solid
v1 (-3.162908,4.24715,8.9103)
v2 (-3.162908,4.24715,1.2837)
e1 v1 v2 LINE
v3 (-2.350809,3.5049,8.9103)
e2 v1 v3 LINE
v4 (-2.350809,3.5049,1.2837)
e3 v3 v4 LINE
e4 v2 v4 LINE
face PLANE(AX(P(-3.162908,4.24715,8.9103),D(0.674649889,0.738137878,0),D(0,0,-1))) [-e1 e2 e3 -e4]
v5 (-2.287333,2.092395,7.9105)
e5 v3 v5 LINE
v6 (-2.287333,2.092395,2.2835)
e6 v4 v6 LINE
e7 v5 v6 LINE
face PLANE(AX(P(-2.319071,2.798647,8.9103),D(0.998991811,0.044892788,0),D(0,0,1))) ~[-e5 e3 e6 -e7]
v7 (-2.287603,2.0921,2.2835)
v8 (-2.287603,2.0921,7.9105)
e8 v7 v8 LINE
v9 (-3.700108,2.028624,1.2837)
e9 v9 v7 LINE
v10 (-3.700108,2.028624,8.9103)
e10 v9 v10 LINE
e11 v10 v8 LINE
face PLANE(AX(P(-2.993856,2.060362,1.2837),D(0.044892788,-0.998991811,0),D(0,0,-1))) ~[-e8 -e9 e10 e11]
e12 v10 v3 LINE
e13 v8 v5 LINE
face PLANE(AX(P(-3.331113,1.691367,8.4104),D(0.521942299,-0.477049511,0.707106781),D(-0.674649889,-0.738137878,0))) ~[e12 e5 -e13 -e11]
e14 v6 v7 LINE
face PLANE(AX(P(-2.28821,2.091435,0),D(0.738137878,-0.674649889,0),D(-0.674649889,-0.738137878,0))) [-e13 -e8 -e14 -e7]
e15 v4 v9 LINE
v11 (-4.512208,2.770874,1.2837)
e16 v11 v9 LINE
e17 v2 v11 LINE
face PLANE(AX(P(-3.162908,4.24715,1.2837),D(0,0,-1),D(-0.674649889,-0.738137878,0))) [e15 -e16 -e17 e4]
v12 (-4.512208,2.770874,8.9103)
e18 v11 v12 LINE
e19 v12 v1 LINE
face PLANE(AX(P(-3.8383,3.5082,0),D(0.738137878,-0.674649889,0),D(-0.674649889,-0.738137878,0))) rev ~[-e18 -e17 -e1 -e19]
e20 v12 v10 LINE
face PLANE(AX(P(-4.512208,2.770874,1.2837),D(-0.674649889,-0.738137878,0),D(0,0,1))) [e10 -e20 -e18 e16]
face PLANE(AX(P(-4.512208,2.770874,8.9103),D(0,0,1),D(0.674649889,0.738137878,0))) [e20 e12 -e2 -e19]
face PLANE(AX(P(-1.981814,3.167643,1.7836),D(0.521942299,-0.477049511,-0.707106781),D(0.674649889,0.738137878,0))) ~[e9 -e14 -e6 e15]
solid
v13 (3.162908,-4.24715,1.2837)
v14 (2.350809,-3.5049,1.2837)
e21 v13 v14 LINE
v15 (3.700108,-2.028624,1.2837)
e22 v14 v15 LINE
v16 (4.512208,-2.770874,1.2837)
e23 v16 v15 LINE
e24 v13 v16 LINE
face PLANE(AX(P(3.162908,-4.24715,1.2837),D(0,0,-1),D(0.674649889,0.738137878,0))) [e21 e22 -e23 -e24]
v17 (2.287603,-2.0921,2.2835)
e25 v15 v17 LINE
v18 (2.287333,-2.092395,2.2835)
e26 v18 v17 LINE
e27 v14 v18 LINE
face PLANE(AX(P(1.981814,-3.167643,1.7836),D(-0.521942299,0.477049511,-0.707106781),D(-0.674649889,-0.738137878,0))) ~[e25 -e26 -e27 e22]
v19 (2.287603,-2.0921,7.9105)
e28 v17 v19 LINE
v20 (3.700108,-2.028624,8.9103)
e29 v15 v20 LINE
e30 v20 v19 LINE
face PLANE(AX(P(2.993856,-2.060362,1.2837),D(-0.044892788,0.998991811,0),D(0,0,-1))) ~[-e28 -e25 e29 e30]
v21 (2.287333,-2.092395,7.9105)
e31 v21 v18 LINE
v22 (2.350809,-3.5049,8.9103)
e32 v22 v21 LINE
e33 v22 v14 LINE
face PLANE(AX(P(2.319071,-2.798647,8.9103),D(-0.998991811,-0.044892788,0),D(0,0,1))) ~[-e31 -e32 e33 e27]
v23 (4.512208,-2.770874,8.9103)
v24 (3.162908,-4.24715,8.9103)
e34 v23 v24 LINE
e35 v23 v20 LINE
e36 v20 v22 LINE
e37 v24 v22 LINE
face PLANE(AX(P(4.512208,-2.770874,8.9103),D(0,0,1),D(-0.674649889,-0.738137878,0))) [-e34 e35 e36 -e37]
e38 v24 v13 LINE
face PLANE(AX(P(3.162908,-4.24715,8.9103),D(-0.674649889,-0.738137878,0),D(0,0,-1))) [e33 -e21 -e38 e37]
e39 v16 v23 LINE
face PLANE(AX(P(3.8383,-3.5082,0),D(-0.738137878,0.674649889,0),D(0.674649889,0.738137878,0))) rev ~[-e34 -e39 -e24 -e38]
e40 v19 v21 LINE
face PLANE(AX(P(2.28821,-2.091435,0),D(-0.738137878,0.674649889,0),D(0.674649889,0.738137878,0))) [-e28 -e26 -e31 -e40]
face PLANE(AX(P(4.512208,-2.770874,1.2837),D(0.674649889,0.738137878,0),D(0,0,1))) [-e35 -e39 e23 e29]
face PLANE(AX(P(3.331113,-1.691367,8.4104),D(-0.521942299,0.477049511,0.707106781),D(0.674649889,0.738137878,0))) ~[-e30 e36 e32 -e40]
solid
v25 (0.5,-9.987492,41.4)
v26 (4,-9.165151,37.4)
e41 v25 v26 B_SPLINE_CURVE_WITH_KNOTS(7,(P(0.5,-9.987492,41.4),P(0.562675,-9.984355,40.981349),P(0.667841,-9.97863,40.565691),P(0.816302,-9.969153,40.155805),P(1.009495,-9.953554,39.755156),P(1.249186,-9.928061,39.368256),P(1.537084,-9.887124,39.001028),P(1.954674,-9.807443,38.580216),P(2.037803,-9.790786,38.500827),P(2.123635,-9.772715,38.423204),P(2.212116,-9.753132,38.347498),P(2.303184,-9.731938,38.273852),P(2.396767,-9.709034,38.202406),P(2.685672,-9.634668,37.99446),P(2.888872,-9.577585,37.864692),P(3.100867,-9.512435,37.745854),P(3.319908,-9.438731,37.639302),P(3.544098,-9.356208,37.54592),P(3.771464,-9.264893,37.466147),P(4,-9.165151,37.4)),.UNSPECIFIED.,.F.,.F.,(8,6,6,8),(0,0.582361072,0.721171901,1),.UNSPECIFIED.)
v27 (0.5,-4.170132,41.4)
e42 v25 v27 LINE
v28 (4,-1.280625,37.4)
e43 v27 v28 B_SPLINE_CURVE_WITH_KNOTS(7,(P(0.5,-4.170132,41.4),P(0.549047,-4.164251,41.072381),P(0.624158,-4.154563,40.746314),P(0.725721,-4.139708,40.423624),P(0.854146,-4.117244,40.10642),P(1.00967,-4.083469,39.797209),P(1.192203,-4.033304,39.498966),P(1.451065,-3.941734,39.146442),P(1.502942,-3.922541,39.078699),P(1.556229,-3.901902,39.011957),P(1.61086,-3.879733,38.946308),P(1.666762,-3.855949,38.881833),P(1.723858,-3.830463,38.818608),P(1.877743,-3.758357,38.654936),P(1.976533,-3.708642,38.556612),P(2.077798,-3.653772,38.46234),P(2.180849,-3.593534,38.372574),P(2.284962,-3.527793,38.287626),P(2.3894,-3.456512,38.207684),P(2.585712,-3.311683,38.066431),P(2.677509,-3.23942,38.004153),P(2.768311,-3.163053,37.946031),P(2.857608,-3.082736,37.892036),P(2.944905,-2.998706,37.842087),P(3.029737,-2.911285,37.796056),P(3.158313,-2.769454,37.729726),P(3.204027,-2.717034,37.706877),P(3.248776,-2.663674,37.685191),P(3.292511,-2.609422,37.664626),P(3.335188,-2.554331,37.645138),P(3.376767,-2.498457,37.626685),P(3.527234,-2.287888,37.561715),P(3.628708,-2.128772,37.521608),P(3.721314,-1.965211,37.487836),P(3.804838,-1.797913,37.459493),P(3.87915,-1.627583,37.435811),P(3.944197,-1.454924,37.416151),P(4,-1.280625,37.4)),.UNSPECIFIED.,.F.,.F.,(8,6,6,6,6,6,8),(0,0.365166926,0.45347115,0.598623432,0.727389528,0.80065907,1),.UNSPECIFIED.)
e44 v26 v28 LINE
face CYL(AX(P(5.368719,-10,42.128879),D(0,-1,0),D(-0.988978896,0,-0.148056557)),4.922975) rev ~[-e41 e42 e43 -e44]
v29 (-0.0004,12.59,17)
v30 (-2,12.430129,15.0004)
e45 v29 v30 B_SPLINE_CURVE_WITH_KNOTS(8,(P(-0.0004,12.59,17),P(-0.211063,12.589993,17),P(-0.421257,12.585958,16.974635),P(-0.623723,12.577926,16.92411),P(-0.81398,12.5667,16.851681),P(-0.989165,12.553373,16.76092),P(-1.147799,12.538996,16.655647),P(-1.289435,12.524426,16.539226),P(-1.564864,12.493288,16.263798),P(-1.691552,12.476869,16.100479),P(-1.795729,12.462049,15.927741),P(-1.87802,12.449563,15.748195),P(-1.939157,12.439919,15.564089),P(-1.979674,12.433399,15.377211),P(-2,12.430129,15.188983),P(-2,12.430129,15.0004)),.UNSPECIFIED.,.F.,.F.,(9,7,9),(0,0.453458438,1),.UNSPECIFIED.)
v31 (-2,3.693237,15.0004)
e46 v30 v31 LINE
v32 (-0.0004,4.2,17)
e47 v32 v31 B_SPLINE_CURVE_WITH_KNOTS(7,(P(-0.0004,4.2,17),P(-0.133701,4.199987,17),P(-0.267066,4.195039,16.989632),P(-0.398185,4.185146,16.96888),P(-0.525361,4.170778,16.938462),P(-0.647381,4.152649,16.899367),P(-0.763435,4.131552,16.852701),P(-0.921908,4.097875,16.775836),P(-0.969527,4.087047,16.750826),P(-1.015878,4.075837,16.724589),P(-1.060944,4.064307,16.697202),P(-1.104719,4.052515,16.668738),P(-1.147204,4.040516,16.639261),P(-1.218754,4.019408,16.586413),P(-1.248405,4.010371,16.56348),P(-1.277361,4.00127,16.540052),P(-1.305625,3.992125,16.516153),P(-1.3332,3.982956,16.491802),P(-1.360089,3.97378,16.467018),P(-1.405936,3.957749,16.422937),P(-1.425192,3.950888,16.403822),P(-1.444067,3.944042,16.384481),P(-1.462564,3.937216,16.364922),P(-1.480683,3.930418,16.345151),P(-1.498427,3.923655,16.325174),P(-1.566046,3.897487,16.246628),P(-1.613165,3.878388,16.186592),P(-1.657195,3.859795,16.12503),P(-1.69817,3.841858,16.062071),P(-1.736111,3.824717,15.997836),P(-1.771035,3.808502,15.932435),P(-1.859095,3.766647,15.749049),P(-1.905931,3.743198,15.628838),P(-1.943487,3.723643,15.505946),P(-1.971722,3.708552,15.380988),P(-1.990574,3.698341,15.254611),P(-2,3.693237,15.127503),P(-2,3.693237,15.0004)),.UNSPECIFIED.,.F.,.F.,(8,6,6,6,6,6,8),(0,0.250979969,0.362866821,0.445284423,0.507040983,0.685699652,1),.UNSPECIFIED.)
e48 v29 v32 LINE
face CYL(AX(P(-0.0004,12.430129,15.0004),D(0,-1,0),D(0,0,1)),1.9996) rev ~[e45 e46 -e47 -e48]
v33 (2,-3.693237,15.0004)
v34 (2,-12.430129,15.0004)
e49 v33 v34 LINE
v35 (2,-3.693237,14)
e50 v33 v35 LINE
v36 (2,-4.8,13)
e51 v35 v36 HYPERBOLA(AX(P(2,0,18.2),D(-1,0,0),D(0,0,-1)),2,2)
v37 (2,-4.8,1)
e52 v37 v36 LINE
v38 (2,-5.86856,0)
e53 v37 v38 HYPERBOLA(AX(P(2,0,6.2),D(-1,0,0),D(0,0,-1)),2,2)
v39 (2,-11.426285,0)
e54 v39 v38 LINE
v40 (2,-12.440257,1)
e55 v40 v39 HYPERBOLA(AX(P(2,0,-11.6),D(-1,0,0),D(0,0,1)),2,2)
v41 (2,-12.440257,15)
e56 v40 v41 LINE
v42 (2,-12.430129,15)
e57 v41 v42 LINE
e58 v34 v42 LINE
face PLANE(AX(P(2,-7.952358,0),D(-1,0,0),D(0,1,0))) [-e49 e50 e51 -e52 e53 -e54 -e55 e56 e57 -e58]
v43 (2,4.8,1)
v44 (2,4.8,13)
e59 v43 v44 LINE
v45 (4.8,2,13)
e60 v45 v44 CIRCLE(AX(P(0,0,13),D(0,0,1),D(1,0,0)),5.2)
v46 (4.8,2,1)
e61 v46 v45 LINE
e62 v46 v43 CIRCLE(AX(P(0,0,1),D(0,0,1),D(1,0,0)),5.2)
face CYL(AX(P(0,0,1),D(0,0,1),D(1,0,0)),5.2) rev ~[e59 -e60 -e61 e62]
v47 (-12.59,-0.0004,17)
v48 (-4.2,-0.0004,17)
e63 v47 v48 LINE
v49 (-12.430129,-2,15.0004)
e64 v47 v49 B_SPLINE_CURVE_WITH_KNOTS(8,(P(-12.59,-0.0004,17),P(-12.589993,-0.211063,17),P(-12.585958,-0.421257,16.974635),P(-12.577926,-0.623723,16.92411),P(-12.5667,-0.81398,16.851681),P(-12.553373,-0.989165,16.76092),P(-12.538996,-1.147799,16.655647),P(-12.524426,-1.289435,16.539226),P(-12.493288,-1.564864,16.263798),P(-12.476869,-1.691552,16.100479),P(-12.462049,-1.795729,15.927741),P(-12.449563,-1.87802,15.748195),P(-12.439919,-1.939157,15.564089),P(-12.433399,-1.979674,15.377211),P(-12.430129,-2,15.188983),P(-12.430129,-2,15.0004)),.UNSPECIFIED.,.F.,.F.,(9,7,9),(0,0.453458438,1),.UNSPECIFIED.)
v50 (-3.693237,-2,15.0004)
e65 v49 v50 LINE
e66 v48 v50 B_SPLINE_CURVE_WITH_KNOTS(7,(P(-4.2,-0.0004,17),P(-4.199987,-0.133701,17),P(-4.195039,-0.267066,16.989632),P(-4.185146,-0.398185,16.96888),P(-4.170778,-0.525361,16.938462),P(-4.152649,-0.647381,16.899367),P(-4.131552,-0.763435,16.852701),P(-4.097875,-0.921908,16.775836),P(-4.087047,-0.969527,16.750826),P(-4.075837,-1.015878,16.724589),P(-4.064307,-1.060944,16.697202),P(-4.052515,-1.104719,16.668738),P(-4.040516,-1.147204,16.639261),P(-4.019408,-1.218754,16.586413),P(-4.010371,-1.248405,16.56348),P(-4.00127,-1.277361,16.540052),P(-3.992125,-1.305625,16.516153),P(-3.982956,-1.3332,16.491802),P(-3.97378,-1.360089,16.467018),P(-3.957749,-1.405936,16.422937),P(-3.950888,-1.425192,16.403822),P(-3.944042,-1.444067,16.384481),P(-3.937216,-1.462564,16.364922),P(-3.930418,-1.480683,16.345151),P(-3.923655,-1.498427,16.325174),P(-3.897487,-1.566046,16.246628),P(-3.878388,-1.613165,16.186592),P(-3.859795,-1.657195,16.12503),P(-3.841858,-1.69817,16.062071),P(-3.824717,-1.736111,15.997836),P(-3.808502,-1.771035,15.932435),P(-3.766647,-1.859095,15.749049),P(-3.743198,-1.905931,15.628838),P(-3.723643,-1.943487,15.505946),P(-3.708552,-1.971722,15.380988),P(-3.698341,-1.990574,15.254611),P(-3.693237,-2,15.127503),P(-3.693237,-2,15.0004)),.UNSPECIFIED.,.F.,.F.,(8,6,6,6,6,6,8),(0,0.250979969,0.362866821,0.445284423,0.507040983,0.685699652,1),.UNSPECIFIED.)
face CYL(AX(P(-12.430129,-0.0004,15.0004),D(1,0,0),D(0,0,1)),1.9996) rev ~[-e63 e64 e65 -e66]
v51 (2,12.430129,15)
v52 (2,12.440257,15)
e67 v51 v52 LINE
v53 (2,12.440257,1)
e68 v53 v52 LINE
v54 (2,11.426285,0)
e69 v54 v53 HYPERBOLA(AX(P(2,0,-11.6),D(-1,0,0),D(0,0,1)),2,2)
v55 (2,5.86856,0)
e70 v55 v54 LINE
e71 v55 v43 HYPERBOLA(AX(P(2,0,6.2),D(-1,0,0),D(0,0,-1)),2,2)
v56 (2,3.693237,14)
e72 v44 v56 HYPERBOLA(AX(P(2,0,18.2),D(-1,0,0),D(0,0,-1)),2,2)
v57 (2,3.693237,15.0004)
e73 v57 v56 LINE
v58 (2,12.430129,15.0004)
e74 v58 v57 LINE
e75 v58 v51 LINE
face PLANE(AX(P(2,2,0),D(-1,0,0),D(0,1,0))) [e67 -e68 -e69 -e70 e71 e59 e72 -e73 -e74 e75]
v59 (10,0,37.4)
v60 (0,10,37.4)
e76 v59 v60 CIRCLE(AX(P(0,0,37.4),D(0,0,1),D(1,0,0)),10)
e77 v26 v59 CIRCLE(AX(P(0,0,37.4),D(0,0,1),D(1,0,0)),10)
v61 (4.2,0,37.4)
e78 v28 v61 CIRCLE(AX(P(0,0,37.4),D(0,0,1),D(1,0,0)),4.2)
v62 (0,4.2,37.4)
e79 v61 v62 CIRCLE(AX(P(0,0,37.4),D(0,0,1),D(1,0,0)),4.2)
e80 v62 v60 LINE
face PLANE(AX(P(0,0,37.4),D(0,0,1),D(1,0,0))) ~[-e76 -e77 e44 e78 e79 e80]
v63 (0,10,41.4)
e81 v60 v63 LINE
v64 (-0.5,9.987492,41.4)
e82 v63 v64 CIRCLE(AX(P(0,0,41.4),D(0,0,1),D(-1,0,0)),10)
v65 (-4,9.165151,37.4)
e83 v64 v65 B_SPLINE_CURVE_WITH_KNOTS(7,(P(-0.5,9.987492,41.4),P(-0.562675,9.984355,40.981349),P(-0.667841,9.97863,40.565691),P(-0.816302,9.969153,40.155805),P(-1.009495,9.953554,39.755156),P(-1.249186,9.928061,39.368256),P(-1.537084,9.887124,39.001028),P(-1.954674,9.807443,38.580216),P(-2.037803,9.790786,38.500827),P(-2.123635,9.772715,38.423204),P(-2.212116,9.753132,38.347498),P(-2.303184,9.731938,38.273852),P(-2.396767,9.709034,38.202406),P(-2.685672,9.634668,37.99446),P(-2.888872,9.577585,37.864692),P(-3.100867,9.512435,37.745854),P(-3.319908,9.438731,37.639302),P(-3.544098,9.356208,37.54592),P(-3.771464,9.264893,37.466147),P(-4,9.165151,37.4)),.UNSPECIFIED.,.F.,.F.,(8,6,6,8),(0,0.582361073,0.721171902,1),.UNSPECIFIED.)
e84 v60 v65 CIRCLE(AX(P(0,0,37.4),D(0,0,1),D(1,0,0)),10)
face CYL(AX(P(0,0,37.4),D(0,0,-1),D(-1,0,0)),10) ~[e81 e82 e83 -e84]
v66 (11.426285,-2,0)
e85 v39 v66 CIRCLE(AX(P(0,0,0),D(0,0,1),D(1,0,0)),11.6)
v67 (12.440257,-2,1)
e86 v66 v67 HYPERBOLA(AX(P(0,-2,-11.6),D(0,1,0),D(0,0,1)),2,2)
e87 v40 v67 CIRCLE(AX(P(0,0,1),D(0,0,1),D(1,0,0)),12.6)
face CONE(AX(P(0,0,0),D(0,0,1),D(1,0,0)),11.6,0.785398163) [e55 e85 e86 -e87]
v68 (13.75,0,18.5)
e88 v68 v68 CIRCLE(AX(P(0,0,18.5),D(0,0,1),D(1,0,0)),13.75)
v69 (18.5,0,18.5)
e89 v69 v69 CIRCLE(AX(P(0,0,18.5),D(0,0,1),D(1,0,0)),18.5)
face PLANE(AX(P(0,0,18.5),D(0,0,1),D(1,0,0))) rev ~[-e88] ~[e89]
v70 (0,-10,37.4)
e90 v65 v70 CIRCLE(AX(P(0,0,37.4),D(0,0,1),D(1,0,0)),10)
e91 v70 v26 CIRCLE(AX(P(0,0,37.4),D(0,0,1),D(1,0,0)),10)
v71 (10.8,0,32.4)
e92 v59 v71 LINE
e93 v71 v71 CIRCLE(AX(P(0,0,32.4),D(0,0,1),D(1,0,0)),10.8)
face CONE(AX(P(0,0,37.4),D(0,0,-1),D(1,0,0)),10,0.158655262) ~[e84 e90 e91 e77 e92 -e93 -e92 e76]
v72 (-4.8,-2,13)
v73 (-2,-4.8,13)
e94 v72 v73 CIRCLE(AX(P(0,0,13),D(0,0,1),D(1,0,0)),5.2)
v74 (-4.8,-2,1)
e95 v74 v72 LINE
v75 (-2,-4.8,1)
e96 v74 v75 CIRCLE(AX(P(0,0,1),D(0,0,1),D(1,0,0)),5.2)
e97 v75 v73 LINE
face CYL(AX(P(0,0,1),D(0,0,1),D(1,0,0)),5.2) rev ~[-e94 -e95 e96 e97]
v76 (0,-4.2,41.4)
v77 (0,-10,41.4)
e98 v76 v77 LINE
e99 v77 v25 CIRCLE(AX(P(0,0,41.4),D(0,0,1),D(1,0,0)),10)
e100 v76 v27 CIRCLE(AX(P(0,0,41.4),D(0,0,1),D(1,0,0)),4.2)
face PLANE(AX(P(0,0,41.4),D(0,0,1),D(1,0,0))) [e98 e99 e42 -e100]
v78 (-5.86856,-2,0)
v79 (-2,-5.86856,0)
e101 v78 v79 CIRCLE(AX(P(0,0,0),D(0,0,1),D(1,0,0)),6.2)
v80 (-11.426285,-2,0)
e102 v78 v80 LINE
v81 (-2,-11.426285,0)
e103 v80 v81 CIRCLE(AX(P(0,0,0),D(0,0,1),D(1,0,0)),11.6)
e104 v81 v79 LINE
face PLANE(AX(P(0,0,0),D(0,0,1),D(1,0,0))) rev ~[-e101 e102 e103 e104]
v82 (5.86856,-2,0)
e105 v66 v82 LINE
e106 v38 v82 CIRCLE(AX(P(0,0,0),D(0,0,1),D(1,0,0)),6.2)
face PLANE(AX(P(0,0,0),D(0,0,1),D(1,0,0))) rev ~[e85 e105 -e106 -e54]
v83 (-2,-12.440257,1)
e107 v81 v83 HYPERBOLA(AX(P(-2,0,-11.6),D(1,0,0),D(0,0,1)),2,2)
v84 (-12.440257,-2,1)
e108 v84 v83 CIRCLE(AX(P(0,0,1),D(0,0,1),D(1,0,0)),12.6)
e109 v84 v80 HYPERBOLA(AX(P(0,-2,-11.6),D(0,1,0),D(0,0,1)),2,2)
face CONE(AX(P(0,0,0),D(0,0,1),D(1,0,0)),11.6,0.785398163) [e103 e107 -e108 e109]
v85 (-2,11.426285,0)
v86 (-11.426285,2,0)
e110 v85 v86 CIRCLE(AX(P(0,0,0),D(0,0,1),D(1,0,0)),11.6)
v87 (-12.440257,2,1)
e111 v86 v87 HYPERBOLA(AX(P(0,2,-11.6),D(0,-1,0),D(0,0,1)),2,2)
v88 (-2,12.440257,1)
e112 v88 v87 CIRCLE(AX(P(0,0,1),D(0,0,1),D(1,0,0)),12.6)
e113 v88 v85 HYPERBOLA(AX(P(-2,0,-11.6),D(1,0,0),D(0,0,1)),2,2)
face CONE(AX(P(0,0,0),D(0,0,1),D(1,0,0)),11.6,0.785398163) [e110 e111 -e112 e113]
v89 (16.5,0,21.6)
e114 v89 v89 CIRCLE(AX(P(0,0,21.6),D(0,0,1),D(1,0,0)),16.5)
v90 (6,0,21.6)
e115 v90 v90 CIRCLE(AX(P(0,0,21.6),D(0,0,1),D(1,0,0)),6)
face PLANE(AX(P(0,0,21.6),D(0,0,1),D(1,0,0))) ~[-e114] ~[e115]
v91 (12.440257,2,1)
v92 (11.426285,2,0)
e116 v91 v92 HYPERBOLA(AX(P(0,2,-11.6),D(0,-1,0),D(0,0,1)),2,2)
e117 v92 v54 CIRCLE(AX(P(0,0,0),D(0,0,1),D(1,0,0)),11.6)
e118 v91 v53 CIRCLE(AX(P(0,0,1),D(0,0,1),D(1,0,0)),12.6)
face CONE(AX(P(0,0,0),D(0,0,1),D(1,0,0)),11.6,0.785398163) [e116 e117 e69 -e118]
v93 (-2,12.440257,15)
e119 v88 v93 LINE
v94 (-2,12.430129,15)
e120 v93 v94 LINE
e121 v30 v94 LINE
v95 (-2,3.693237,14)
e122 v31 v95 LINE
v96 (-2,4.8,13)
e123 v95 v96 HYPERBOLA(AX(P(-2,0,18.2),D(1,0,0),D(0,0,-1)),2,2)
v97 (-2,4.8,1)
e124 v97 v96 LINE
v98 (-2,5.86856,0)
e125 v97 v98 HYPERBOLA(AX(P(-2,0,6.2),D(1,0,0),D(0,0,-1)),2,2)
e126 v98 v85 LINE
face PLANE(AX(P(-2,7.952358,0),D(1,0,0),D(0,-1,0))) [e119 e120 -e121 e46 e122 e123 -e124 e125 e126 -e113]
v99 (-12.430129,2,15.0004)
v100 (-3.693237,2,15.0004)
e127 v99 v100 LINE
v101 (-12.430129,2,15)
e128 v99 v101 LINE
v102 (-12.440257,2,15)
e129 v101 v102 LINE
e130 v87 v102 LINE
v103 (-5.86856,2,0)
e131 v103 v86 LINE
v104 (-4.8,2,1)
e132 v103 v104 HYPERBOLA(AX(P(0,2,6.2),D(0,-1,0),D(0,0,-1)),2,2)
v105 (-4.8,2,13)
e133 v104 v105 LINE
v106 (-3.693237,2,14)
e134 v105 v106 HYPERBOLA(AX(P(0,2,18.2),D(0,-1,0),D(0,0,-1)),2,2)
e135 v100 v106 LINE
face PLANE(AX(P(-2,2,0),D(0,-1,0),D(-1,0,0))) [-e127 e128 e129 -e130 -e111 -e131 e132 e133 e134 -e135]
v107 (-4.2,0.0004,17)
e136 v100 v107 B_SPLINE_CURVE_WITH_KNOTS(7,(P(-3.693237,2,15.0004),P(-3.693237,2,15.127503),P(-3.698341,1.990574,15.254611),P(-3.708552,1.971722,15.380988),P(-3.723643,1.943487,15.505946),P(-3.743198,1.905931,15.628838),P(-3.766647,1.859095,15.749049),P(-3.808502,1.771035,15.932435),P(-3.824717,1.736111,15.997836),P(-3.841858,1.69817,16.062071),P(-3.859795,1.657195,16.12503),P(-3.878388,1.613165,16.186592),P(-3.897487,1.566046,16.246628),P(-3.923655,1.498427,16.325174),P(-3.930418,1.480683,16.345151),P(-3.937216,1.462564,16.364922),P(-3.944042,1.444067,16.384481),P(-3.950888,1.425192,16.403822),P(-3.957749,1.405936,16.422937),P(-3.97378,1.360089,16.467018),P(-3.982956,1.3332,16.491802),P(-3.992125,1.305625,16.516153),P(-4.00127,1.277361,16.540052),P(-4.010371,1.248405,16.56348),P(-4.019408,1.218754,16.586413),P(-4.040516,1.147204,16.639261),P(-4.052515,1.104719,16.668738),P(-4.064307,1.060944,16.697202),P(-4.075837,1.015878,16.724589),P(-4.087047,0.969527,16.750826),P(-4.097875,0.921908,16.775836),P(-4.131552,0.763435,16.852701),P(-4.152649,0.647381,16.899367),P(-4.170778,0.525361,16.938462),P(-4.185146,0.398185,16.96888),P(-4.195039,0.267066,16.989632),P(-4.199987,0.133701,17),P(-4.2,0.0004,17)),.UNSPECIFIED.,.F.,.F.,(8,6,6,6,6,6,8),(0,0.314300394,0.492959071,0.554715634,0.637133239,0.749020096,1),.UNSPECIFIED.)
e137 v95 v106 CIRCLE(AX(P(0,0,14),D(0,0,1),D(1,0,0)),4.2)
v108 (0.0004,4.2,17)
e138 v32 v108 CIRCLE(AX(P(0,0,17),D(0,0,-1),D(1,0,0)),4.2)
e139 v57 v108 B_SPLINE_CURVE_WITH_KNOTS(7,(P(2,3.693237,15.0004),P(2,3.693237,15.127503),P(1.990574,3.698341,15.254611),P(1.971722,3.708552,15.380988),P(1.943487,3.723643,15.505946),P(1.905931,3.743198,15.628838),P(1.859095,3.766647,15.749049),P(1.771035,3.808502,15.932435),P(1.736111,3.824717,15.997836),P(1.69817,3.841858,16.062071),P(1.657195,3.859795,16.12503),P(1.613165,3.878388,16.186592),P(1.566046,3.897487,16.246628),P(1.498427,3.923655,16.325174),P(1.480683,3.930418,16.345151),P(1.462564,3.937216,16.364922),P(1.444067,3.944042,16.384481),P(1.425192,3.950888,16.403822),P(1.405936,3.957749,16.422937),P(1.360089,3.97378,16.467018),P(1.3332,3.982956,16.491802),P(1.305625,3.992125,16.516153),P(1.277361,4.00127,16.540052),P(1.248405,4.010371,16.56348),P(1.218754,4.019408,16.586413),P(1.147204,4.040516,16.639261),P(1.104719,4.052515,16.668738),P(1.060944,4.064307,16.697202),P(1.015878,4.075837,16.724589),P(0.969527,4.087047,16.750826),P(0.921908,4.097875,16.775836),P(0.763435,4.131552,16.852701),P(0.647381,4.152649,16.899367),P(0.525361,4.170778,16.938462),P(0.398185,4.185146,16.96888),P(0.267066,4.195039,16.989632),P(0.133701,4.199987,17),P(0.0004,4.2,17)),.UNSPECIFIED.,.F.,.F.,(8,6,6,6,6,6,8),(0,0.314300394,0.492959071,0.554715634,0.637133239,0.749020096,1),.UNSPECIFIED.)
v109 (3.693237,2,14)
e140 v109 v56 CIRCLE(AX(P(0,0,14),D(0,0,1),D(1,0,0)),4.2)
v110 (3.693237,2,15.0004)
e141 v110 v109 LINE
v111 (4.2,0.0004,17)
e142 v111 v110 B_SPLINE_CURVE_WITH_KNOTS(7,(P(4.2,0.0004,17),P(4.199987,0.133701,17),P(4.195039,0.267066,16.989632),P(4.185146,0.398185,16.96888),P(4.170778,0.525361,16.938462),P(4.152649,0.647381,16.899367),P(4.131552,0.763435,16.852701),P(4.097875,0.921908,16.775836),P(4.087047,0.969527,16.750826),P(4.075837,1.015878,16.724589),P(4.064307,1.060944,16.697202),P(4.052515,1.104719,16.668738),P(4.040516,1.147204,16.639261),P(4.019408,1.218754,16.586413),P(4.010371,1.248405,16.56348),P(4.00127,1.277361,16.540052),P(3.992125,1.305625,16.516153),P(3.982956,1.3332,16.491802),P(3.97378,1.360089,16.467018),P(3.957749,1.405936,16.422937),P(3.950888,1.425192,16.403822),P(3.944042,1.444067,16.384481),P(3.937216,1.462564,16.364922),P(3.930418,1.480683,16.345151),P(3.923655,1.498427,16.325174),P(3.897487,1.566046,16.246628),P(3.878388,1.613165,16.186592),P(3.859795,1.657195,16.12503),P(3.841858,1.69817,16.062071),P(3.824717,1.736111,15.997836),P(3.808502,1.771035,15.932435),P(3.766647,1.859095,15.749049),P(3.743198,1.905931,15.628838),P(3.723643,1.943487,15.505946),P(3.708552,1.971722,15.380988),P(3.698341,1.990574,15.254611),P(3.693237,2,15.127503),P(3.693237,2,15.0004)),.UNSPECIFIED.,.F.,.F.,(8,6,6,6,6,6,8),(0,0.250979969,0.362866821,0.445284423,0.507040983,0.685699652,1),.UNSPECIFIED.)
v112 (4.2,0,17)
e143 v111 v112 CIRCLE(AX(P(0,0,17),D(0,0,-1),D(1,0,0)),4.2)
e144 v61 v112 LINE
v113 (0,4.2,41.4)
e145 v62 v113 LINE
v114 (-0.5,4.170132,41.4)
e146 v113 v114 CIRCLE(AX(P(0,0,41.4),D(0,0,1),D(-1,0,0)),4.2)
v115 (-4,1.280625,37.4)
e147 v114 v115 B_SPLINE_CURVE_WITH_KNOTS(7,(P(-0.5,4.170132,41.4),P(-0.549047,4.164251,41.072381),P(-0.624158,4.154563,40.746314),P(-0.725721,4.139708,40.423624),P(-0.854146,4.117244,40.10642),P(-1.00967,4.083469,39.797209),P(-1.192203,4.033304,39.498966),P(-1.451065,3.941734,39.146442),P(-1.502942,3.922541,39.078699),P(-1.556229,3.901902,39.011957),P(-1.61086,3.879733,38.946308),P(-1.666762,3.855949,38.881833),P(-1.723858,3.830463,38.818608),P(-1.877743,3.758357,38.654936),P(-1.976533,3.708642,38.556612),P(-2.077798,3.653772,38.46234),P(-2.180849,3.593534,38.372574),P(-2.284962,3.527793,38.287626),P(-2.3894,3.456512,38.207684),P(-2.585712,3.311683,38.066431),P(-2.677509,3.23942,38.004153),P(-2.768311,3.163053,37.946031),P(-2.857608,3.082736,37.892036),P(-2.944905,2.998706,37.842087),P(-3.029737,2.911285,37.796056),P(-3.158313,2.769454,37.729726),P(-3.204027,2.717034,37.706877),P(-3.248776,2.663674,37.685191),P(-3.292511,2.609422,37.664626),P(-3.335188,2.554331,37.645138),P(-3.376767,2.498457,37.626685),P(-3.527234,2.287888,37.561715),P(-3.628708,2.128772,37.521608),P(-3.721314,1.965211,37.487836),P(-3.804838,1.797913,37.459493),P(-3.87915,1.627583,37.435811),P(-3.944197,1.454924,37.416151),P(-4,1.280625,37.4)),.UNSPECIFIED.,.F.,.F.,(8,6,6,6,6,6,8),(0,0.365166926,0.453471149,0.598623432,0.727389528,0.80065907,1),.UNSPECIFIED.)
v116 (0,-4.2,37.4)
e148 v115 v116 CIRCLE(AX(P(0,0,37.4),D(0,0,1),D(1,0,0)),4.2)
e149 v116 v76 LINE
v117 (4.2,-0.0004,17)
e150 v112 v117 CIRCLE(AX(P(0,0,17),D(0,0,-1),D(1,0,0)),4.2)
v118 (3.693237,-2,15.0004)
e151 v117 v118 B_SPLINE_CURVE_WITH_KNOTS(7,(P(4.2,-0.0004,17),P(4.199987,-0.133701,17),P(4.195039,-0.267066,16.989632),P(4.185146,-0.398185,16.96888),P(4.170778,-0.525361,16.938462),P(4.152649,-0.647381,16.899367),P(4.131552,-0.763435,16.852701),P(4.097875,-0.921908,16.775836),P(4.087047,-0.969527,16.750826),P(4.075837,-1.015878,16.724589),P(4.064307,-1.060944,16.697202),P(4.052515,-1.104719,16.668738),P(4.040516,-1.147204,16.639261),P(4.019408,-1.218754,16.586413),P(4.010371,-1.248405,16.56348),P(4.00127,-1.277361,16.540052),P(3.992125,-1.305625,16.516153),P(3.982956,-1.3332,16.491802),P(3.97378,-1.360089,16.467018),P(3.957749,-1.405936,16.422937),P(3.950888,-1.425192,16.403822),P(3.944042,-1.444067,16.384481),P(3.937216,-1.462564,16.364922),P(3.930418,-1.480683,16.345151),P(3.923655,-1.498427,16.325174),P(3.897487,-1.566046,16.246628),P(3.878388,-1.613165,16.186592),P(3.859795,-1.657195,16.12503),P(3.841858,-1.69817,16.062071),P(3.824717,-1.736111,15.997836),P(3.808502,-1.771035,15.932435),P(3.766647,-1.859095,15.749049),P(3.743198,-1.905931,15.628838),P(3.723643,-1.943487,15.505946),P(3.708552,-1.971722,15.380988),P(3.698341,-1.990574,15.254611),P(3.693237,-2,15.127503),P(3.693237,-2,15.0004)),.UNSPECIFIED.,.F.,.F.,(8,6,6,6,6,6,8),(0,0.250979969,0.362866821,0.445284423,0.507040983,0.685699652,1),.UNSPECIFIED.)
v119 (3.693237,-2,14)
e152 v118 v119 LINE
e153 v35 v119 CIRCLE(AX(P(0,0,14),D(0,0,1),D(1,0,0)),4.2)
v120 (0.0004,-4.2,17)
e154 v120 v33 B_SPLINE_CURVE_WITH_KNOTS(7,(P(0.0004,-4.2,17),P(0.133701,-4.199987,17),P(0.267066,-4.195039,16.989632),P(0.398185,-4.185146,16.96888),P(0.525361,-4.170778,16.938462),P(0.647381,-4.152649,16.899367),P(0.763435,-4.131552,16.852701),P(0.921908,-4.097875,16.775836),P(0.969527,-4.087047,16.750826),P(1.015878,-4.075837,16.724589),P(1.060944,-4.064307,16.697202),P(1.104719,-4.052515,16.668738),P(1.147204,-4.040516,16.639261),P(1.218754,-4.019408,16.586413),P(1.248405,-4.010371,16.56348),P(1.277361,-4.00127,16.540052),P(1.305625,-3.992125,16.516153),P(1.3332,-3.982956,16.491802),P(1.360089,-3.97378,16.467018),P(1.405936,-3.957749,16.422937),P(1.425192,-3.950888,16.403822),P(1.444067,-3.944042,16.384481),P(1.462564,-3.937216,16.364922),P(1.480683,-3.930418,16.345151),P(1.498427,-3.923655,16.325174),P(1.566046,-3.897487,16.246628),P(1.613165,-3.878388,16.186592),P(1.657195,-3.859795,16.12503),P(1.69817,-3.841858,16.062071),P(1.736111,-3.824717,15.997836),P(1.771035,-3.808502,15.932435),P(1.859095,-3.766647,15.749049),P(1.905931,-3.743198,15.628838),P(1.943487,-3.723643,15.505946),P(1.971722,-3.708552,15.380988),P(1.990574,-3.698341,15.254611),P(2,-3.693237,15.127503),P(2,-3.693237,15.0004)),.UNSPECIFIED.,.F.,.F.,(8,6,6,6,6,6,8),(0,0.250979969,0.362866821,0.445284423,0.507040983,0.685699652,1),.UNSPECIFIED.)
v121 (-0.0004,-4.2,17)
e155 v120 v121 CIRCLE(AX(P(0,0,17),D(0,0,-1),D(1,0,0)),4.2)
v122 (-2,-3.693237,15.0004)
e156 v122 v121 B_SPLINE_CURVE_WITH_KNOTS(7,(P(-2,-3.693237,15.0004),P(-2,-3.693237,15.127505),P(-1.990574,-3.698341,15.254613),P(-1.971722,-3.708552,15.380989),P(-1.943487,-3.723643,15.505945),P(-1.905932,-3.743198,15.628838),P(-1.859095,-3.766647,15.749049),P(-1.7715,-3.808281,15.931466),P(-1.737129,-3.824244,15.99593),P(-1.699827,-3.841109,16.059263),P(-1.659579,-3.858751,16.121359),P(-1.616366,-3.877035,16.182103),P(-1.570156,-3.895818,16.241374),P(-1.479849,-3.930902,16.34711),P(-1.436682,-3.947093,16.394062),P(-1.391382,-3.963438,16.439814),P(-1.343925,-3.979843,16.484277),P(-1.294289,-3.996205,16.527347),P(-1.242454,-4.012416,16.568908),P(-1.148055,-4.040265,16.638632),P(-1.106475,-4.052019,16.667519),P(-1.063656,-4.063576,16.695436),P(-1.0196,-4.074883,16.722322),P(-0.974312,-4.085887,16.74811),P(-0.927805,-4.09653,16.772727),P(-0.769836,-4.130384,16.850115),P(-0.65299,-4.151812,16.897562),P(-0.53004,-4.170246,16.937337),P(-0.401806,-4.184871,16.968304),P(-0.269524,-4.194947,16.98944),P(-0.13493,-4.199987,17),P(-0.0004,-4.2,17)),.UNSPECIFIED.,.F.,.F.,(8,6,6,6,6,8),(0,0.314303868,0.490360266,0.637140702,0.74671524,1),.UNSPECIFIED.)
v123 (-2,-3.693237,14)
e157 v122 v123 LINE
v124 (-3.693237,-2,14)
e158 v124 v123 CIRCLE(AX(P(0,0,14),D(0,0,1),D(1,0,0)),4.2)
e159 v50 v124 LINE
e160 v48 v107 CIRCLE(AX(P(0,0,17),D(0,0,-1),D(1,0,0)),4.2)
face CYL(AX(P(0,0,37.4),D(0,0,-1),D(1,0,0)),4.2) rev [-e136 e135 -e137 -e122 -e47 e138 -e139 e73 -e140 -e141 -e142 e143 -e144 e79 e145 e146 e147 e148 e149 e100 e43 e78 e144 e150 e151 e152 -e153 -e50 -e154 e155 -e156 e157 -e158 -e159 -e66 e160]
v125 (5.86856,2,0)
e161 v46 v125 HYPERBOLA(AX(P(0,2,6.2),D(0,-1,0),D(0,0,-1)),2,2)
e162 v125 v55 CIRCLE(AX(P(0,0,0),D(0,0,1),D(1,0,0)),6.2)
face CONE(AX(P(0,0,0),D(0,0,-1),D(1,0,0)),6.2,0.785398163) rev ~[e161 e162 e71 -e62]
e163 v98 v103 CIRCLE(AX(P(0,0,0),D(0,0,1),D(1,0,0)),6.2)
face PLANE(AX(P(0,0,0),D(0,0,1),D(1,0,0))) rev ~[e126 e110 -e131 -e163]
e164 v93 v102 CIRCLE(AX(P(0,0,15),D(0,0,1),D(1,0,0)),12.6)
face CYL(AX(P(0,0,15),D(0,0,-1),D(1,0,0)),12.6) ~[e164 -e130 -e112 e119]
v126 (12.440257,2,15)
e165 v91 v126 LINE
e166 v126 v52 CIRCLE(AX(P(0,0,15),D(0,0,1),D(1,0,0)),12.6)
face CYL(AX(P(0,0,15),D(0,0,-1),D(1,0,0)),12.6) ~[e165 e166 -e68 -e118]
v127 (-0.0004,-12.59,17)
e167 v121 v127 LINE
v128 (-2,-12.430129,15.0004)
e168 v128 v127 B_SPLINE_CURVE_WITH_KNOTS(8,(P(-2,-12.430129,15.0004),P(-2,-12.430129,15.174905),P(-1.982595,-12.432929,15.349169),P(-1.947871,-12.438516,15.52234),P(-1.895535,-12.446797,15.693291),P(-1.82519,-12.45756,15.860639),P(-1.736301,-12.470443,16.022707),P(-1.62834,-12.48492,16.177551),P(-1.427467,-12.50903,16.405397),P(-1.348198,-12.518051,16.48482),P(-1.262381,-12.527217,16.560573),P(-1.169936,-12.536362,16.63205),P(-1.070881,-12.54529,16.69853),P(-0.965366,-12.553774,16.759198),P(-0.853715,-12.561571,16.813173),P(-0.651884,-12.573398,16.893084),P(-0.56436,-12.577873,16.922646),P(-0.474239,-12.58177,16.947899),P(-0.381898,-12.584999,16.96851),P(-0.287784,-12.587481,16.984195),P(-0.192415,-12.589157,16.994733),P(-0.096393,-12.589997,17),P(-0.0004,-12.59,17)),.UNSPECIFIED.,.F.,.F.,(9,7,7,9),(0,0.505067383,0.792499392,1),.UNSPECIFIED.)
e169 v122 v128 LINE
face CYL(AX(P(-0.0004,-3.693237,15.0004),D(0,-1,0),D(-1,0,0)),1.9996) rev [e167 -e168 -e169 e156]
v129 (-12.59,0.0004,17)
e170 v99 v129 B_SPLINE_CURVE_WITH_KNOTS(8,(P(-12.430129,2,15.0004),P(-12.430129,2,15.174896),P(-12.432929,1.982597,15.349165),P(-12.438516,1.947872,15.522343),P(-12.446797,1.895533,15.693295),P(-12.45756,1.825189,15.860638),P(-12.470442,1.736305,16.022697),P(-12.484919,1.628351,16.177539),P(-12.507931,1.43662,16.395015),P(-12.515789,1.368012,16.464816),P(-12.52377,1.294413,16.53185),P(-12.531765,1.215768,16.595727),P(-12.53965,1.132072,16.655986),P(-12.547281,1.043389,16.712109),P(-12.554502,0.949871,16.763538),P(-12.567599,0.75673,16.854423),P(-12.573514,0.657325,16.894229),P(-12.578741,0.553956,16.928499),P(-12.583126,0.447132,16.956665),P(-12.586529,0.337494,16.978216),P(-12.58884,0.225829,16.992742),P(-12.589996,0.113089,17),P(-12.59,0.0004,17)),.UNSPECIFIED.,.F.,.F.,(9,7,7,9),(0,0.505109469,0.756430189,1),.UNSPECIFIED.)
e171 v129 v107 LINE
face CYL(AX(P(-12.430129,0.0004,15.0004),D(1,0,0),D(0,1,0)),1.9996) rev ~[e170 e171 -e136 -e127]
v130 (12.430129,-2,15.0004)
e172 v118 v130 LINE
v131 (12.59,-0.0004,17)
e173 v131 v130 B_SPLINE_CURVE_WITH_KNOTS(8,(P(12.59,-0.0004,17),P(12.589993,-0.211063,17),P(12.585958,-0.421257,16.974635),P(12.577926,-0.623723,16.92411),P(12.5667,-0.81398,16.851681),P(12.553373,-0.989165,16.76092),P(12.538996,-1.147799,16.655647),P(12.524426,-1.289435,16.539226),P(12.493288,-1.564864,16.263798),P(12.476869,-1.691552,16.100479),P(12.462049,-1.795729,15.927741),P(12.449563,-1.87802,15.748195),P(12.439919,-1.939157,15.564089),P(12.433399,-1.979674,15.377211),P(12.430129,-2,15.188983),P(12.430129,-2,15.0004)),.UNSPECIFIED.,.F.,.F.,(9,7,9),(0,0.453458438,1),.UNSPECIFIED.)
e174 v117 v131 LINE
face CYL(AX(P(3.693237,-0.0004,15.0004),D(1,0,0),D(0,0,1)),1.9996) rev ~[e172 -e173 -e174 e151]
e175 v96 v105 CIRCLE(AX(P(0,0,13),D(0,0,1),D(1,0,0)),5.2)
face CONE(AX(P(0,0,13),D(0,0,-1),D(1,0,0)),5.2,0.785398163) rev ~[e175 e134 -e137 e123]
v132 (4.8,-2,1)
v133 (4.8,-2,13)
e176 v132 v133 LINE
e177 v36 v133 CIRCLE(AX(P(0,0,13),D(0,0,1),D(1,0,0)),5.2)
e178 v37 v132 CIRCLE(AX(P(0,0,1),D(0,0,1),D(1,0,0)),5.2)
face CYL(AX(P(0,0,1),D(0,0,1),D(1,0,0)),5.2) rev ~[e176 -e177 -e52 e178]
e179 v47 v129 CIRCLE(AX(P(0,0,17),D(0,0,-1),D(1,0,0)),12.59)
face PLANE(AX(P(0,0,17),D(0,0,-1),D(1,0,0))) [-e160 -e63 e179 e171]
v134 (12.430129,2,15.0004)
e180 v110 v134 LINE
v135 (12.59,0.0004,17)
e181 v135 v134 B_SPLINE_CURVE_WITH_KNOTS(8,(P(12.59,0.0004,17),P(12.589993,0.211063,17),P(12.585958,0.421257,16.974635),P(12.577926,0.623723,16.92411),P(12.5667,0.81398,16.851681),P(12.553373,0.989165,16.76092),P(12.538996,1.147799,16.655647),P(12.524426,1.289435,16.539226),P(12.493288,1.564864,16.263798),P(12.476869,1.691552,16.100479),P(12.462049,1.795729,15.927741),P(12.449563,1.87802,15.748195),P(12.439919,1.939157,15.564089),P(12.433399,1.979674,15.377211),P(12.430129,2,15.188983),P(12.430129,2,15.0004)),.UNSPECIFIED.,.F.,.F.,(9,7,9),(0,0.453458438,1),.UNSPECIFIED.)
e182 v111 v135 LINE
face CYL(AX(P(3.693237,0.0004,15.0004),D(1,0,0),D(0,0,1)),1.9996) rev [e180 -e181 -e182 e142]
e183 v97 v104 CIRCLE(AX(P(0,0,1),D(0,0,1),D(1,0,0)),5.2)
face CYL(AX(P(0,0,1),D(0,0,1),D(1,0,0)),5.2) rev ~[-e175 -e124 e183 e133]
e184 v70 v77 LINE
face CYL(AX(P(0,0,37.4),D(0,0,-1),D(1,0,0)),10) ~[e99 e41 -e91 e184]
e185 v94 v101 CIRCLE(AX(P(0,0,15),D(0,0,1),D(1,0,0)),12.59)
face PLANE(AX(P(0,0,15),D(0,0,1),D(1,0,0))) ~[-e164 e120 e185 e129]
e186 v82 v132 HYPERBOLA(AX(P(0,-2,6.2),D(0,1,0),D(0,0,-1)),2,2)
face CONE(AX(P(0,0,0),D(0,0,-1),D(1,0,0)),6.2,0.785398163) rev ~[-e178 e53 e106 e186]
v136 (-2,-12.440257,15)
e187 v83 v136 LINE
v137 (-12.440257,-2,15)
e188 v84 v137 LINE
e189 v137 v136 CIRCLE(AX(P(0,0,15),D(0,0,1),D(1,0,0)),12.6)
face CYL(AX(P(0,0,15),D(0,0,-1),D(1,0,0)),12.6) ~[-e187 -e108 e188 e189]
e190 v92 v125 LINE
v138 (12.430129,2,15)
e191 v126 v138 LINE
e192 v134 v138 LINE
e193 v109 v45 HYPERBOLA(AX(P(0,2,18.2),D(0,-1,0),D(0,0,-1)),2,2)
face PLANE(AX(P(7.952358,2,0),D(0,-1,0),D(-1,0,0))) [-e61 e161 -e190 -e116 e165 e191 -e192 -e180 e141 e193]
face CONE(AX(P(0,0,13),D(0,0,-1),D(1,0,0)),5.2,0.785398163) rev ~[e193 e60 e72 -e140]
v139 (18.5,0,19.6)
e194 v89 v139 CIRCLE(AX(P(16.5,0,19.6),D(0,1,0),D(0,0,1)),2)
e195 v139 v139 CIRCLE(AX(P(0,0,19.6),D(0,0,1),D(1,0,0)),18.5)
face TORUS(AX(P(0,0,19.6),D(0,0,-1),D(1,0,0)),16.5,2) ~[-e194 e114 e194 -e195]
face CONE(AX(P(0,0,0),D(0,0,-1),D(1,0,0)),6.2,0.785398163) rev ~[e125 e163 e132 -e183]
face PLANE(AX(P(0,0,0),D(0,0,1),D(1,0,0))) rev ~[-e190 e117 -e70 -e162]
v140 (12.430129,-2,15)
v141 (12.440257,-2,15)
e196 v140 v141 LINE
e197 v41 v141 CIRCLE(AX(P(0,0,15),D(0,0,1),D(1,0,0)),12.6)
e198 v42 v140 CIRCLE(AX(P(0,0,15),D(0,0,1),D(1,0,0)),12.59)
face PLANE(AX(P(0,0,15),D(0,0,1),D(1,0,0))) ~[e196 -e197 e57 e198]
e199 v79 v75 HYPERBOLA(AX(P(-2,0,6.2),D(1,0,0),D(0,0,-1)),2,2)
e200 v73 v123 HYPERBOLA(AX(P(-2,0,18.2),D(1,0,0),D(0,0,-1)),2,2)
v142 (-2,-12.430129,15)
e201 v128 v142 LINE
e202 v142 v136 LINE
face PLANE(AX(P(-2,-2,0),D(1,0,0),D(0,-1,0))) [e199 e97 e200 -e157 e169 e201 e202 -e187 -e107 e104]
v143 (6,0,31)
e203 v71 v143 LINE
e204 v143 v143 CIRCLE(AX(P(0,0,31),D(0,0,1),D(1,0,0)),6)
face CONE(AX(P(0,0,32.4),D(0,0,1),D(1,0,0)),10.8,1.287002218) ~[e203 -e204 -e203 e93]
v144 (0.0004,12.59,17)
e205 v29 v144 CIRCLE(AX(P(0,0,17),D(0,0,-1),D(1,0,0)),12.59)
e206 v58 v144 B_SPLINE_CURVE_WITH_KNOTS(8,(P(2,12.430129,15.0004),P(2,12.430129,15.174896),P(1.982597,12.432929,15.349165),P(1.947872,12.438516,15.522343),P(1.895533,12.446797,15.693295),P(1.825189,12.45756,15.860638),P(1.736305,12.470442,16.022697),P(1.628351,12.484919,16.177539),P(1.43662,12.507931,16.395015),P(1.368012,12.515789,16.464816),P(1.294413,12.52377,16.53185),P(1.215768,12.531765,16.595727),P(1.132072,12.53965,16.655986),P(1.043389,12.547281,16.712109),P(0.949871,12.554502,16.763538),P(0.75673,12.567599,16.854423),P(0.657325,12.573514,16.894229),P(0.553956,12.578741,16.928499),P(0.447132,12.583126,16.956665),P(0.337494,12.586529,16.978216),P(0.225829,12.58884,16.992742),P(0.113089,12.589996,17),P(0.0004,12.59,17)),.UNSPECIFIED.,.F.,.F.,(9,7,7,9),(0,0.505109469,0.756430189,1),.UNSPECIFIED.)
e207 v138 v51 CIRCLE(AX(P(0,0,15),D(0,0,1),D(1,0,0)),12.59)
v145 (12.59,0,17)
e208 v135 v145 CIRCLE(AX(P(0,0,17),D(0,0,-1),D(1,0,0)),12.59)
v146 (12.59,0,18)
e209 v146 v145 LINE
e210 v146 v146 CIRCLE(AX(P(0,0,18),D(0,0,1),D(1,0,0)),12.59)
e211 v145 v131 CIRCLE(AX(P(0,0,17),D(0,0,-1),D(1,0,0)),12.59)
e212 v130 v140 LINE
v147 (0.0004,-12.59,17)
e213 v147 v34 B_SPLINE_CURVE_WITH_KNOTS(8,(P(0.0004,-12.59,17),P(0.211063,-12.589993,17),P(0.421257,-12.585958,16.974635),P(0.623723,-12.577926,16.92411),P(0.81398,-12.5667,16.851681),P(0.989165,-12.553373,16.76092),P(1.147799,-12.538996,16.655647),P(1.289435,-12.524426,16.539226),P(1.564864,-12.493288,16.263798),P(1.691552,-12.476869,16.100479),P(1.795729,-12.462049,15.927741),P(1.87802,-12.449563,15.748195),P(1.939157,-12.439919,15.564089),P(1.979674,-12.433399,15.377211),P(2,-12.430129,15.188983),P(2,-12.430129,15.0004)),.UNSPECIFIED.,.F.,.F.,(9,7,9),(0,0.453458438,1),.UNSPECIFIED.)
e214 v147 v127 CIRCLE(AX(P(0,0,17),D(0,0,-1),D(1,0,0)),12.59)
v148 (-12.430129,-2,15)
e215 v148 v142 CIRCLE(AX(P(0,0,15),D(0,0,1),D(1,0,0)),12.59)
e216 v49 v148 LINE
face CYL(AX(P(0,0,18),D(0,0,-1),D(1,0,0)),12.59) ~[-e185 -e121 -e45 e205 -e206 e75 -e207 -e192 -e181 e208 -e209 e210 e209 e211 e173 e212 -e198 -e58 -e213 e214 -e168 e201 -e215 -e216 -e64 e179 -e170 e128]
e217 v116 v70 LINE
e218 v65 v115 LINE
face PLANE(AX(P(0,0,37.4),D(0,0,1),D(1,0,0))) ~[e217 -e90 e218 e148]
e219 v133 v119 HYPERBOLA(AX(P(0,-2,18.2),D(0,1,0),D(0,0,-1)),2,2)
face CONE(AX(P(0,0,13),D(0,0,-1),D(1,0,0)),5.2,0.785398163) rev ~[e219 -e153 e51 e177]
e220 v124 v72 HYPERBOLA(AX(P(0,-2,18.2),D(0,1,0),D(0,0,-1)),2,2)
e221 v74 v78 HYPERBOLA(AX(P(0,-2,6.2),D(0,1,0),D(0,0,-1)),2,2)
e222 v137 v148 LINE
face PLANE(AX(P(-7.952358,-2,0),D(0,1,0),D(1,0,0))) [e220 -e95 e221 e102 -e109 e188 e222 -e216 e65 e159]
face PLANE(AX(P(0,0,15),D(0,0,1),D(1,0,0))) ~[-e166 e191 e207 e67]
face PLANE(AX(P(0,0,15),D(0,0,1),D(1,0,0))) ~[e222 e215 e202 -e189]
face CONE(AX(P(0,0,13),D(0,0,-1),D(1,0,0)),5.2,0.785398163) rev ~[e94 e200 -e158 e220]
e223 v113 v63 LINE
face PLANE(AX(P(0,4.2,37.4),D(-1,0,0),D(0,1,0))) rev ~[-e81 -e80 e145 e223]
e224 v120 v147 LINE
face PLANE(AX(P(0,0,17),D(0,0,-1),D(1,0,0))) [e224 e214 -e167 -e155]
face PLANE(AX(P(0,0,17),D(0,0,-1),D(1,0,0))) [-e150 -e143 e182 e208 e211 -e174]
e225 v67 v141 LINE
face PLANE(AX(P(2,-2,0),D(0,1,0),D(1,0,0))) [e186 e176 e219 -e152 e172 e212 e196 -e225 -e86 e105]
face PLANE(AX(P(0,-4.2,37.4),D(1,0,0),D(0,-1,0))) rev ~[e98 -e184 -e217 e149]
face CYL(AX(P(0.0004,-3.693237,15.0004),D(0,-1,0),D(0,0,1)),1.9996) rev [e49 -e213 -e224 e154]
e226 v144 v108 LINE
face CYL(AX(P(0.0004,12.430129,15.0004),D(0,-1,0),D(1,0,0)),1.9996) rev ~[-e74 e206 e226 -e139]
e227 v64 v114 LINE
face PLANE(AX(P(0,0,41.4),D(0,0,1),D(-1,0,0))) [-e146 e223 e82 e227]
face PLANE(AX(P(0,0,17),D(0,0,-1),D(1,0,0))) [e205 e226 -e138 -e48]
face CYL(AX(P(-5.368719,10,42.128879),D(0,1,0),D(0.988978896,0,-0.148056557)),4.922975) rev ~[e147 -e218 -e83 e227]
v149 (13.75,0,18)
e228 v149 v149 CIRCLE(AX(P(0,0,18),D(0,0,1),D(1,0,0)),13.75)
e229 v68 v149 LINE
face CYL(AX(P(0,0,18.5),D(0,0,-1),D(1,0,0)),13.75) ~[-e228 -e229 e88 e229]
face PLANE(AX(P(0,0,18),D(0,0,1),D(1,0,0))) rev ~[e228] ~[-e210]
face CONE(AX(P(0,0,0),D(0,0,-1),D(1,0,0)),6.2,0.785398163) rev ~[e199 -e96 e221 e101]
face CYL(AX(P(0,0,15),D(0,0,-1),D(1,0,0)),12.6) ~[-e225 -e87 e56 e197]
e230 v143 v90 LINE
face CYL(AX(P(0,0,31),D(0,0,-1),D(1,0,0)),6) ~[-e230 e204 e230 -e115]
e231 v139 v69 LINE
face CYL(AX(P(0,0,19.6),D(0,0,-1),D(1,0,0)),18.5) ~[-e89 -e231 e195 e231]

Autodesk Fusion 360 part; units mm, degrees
sketch "Sketch1" plane through (0, 0, 0) normal (0, 1, 0) x (1, 0, 0)
  line L0 (4.2, -37.4) -> (10, -37.4)
  line L1 (10, -37.4) -> (10.8, -32.4)
  line L2 (10.8, -32.4) -> (6, -31)
  line L3 (6, -31) -> (6, -21.6)
  line L4 (6, -21.6) -> (16.5, -21.6)
  line L5 (18.5, -19.6) -> (18.5, -18.5)
  line L6 (18.5, -18.5) -> (13.75, -18.5)
  line L7 (13.75, -18.5) -> (13.75, -18)
  line L8 (13.75, -18) -> (12.59, -18)
  line L9 (12.59, -18) -> (12.59, -15)
  line L10 (12.59, -15) -> (12.6, -15)
  line L11 (12.6, -15) -> (12.6, -1)
  line L12 (11.6, 0) -> (6.2, 0)
  line L13 (4.2, -37.4) -> (4.2, -14)
  line L14 (5.2, -1) -> (5.2, -13)
  line L15 (6.2, 0) -> (5.2, -1)
  line L16 (5.2, -13) -> (4.2, -14)
  arc A0 (16.5, -21.6) -> (18.5, -19.6) centre (16.5, -19.6) ccw
  line L17 (11.6, 0) -> (12.6, -1)
  point P0 (18.5, -21.6)
  dimension "d3" = 10.8
  dimension "d9" = 3
  dimension "d10" = 0.5
  dimension "d11" = 3.1
  dimension "d12" = 10.8
  dimension "d13" = 9.4
  dimension "d16" = 4.2
  dimension "d17" = 6.2
  dimension "d18" = 5.2
  dimension "d19" = 1
  dimension "d20" = 1
  dimension "d21" = 13
  dimension "d22" = 10
  dimension "d24" = 13.75
  dimension "d25" = 18.5
  dimension "d26" = 6
  dimension "d27" = 12.59
  dimension "d28" = 2
  dimension "d29" = 37.4
  dimension "d79" = 1
  dimension "d81" = 1
  dimension "d82" = 15
  dimension "d83" = 12.6
revolve "Revolve2" add sketch "Sketch1" angle 360 about axis through (0, 0, 1.75) along (0, 0, 1) makes body 1
sketch "Sketch2" plane through (0, 0, 0) normal (0, 0, -1) x (1, 0, 0)
  circle A0 centre (0, 0) radius 8.2
  circle A1 centre (0, 0) radius 12.6
  line L0 (14, -2) -> (-14, -2)
  line L1 (-14, -2) -> (-14, 2)
  line L2 (-14, 2) -> (14, 2)
  line L3 (14, 2) -> (14, -2)
  line L4 (14, -2) -> (-14, 2) construction
  line L5 (-14, -2) -> (14, 2) construction
  line L6 (2, -15) -> (-2, -15)
  line L7 (-2, -15) -> (-2, 15)
  line L8 (-2, 15) -> (2, 15)
  line L9 (2, 15) -> (2, -15)
  line L10 (2, -15) -> (-2, 15) construction
  line L11 (-2, -15) -> (2, 15) construction
  dimension "d31" = 4
  dimension "d32" = 4
extrude "Extrude3" cut sketch "Sketch2" against normal blind 17 contours A0 L0 L2 L9 | A0 A1 L0 L2 | A0 L2 L7 L9 | A0 A1 L7 L9 | A0 A1 L7 L9 | A0 L0 L7 L9 | A0 L0 L2 L7 | A0 A1 L0 L2 bodies 1
fillet "Fillet1" radius 2 2 edges at (8.0617, 2, 17) (8.0617, -2, 17) on bodies 1
fillet "Fillet1" radius 2 6 edges at (2, -8.0617, 17) (-2, -8.0617, 17) (-2, 8.0617, 17) (2, 8.0617, 17) (-8.0617, 2, 17) (-8.0617, -2, 17) on bodies 1
sketch "Sketch4" plane through (0, 0, 37.4) normal (0, 0, 1) x (-1, 0, 0)
  circle A0 centre (0, 0) radius 10
  circle A1 centre (0, 0) radius 4.2
  circle A2 centre (0, 0) radius 4.2 construction
  circle A3 centre (0, 0) radius 10 construction
  line L0 (0, -13) -> (4, -13)
  line L1 (4, -13) -> (4, -0.3555)
  line L2 (4, -0.3555) -> (0, -0.3555)
  line L3 (0, -0.3555) -> (0, -13)
extrude "Extrude4" add sketch "Sketch4" along normal blind 4 contours A0 A1 L1 L3 picked at (2.6236, -7.6091) bodies 1
ref_plane "WorkPlane1" through (0, 10, 41.4) normal (0, 1, 0) x (-1, 0, 0)
sketch "Sketch5" plane through (0, 10, 0) normal (0, 1, 0) x (1, 0, 0)
  line L0 (-4, -41.4) -> (0, -41.4)
  line L1 (-4, -37.4) -> (-4, -41.4)
  arc A0 (-0.5, -41.4) -> (-4, -37.4) centre (-5.3687, -42.1289) ccw
  point P0 (-4, -41.4)
extrude "Extrude5" cut sketch "Sketch5" against normal blind 10 bodies 1
pattern_circular "C-Pattern1" count 2 over 360 about axis through (0, 0, 1.75) along (0, 0, 1) of "Extrude4", "Extrude5"
ref_plane "WorkPlane2" through (-8.0667, -2, 8.5) normal (0, 1, 0) x (-1, 0, 0)
sketch "Sketch6" plane through (0, -2, 0) normal (0, 1, 0) x (1, 0, 0)
  line L0 (-12.5, -11.2) -> (-12.8, -11.2)
  line L1 (-12.8, -11.2) -> (-12.8, -9.2)
  line L2 (-12.8, -9.2) -> (-12.5, -9.2)
  line L3 (-12.5, -9.2) -> (-12.5, -11.2)
  point P0 (-12.4403, 0)
  dimension "d56" = 9.2
  dimension "d57" = 2
  dimension "d58" = 0.3
revolve "Revolve3" add sketch "Sketch6" angle 70 about axis through (0, 0, 1.75) along (0, 0, 1) separate body makes body 2
ref_plane "WorkPlane5" through (-2, 12.4403, 15) normal (0.707107, -0.707107, 0) x (0.707107, 0.707107, 0)
ref_plane "WorkPlane7" through (-3.8383, 3.5082, 6.3297) normal (0.738138, -0.67465, 0) x (-0.67465, -0.738138, 0)
sketch "Sketch9" plane through (-3.8383, 3.5082, 0) normal (0.738138, -0.67465, 0) x (-0.67465, -0.738138, 0)
  line L0 (0.9989, -8.9103) -> (-1.0011, -8.9103)
  line L1 (-1.0011, -8.9103) -> (-1.0011, -1.2837)
  line L2 (-1.0011, -1.2837) -> (0.9989, -1.2837)
  line L3 (0.9989, -1.2837) -> (0.9989, -8.9103)
  line L4 (0.9989, -8.9103) -> (-1.0011, -1.2837) construction
  line L5 (-1.0011, -8.9103) -> (0.9989, -1.2837) construction
  point P0 (-0.0011, -5.097)
  dimension "d85" = 2
extrude "Extrude6" add sketch "Sketch9" along normal blind 2.1 separate body makes body 3
chamfer "Chamfer1" distance 1 angle 45 4 edges at (-1.6129, 2.8303, 5.097) (-2.9622, 1.3541, 5.097) (-2.2875, 2.0922, 1.2837) (-2.2875, 2.0922, 8.9103) on bodies 3
pattern_circular "C-Pattern3" count 2 over 360 about axis through (0, 0, 1.75) along (0, 0, 1) of bodies 3 makes body 4
ref_plane "WorkPlane8" through (0, 0, 21.6) normal (0, 0, 1) x (1, 0, 0)
sketch "Sketch11" plane through (0, 0, 21.6) normal (0, 0, 1) x (1, 0, 0)
  line L0 (-2.8755, -13.6149) -> (-2.861, -13.6146) construction
  line L1 (-2.861, -13.6146) -> (-3.0407, -5.1804) construction
  line L2 (-3.0407, -5.1804) -> (-3.0552, -5.1807) construction
  line L3 (-3.0552, -5.1807) -> (-2.8755, -13.6149) construction
  dimension "d92" = 8
delete_body "RemoveBody1" bodies 2
extrude "Extrude7" [suppressed]
